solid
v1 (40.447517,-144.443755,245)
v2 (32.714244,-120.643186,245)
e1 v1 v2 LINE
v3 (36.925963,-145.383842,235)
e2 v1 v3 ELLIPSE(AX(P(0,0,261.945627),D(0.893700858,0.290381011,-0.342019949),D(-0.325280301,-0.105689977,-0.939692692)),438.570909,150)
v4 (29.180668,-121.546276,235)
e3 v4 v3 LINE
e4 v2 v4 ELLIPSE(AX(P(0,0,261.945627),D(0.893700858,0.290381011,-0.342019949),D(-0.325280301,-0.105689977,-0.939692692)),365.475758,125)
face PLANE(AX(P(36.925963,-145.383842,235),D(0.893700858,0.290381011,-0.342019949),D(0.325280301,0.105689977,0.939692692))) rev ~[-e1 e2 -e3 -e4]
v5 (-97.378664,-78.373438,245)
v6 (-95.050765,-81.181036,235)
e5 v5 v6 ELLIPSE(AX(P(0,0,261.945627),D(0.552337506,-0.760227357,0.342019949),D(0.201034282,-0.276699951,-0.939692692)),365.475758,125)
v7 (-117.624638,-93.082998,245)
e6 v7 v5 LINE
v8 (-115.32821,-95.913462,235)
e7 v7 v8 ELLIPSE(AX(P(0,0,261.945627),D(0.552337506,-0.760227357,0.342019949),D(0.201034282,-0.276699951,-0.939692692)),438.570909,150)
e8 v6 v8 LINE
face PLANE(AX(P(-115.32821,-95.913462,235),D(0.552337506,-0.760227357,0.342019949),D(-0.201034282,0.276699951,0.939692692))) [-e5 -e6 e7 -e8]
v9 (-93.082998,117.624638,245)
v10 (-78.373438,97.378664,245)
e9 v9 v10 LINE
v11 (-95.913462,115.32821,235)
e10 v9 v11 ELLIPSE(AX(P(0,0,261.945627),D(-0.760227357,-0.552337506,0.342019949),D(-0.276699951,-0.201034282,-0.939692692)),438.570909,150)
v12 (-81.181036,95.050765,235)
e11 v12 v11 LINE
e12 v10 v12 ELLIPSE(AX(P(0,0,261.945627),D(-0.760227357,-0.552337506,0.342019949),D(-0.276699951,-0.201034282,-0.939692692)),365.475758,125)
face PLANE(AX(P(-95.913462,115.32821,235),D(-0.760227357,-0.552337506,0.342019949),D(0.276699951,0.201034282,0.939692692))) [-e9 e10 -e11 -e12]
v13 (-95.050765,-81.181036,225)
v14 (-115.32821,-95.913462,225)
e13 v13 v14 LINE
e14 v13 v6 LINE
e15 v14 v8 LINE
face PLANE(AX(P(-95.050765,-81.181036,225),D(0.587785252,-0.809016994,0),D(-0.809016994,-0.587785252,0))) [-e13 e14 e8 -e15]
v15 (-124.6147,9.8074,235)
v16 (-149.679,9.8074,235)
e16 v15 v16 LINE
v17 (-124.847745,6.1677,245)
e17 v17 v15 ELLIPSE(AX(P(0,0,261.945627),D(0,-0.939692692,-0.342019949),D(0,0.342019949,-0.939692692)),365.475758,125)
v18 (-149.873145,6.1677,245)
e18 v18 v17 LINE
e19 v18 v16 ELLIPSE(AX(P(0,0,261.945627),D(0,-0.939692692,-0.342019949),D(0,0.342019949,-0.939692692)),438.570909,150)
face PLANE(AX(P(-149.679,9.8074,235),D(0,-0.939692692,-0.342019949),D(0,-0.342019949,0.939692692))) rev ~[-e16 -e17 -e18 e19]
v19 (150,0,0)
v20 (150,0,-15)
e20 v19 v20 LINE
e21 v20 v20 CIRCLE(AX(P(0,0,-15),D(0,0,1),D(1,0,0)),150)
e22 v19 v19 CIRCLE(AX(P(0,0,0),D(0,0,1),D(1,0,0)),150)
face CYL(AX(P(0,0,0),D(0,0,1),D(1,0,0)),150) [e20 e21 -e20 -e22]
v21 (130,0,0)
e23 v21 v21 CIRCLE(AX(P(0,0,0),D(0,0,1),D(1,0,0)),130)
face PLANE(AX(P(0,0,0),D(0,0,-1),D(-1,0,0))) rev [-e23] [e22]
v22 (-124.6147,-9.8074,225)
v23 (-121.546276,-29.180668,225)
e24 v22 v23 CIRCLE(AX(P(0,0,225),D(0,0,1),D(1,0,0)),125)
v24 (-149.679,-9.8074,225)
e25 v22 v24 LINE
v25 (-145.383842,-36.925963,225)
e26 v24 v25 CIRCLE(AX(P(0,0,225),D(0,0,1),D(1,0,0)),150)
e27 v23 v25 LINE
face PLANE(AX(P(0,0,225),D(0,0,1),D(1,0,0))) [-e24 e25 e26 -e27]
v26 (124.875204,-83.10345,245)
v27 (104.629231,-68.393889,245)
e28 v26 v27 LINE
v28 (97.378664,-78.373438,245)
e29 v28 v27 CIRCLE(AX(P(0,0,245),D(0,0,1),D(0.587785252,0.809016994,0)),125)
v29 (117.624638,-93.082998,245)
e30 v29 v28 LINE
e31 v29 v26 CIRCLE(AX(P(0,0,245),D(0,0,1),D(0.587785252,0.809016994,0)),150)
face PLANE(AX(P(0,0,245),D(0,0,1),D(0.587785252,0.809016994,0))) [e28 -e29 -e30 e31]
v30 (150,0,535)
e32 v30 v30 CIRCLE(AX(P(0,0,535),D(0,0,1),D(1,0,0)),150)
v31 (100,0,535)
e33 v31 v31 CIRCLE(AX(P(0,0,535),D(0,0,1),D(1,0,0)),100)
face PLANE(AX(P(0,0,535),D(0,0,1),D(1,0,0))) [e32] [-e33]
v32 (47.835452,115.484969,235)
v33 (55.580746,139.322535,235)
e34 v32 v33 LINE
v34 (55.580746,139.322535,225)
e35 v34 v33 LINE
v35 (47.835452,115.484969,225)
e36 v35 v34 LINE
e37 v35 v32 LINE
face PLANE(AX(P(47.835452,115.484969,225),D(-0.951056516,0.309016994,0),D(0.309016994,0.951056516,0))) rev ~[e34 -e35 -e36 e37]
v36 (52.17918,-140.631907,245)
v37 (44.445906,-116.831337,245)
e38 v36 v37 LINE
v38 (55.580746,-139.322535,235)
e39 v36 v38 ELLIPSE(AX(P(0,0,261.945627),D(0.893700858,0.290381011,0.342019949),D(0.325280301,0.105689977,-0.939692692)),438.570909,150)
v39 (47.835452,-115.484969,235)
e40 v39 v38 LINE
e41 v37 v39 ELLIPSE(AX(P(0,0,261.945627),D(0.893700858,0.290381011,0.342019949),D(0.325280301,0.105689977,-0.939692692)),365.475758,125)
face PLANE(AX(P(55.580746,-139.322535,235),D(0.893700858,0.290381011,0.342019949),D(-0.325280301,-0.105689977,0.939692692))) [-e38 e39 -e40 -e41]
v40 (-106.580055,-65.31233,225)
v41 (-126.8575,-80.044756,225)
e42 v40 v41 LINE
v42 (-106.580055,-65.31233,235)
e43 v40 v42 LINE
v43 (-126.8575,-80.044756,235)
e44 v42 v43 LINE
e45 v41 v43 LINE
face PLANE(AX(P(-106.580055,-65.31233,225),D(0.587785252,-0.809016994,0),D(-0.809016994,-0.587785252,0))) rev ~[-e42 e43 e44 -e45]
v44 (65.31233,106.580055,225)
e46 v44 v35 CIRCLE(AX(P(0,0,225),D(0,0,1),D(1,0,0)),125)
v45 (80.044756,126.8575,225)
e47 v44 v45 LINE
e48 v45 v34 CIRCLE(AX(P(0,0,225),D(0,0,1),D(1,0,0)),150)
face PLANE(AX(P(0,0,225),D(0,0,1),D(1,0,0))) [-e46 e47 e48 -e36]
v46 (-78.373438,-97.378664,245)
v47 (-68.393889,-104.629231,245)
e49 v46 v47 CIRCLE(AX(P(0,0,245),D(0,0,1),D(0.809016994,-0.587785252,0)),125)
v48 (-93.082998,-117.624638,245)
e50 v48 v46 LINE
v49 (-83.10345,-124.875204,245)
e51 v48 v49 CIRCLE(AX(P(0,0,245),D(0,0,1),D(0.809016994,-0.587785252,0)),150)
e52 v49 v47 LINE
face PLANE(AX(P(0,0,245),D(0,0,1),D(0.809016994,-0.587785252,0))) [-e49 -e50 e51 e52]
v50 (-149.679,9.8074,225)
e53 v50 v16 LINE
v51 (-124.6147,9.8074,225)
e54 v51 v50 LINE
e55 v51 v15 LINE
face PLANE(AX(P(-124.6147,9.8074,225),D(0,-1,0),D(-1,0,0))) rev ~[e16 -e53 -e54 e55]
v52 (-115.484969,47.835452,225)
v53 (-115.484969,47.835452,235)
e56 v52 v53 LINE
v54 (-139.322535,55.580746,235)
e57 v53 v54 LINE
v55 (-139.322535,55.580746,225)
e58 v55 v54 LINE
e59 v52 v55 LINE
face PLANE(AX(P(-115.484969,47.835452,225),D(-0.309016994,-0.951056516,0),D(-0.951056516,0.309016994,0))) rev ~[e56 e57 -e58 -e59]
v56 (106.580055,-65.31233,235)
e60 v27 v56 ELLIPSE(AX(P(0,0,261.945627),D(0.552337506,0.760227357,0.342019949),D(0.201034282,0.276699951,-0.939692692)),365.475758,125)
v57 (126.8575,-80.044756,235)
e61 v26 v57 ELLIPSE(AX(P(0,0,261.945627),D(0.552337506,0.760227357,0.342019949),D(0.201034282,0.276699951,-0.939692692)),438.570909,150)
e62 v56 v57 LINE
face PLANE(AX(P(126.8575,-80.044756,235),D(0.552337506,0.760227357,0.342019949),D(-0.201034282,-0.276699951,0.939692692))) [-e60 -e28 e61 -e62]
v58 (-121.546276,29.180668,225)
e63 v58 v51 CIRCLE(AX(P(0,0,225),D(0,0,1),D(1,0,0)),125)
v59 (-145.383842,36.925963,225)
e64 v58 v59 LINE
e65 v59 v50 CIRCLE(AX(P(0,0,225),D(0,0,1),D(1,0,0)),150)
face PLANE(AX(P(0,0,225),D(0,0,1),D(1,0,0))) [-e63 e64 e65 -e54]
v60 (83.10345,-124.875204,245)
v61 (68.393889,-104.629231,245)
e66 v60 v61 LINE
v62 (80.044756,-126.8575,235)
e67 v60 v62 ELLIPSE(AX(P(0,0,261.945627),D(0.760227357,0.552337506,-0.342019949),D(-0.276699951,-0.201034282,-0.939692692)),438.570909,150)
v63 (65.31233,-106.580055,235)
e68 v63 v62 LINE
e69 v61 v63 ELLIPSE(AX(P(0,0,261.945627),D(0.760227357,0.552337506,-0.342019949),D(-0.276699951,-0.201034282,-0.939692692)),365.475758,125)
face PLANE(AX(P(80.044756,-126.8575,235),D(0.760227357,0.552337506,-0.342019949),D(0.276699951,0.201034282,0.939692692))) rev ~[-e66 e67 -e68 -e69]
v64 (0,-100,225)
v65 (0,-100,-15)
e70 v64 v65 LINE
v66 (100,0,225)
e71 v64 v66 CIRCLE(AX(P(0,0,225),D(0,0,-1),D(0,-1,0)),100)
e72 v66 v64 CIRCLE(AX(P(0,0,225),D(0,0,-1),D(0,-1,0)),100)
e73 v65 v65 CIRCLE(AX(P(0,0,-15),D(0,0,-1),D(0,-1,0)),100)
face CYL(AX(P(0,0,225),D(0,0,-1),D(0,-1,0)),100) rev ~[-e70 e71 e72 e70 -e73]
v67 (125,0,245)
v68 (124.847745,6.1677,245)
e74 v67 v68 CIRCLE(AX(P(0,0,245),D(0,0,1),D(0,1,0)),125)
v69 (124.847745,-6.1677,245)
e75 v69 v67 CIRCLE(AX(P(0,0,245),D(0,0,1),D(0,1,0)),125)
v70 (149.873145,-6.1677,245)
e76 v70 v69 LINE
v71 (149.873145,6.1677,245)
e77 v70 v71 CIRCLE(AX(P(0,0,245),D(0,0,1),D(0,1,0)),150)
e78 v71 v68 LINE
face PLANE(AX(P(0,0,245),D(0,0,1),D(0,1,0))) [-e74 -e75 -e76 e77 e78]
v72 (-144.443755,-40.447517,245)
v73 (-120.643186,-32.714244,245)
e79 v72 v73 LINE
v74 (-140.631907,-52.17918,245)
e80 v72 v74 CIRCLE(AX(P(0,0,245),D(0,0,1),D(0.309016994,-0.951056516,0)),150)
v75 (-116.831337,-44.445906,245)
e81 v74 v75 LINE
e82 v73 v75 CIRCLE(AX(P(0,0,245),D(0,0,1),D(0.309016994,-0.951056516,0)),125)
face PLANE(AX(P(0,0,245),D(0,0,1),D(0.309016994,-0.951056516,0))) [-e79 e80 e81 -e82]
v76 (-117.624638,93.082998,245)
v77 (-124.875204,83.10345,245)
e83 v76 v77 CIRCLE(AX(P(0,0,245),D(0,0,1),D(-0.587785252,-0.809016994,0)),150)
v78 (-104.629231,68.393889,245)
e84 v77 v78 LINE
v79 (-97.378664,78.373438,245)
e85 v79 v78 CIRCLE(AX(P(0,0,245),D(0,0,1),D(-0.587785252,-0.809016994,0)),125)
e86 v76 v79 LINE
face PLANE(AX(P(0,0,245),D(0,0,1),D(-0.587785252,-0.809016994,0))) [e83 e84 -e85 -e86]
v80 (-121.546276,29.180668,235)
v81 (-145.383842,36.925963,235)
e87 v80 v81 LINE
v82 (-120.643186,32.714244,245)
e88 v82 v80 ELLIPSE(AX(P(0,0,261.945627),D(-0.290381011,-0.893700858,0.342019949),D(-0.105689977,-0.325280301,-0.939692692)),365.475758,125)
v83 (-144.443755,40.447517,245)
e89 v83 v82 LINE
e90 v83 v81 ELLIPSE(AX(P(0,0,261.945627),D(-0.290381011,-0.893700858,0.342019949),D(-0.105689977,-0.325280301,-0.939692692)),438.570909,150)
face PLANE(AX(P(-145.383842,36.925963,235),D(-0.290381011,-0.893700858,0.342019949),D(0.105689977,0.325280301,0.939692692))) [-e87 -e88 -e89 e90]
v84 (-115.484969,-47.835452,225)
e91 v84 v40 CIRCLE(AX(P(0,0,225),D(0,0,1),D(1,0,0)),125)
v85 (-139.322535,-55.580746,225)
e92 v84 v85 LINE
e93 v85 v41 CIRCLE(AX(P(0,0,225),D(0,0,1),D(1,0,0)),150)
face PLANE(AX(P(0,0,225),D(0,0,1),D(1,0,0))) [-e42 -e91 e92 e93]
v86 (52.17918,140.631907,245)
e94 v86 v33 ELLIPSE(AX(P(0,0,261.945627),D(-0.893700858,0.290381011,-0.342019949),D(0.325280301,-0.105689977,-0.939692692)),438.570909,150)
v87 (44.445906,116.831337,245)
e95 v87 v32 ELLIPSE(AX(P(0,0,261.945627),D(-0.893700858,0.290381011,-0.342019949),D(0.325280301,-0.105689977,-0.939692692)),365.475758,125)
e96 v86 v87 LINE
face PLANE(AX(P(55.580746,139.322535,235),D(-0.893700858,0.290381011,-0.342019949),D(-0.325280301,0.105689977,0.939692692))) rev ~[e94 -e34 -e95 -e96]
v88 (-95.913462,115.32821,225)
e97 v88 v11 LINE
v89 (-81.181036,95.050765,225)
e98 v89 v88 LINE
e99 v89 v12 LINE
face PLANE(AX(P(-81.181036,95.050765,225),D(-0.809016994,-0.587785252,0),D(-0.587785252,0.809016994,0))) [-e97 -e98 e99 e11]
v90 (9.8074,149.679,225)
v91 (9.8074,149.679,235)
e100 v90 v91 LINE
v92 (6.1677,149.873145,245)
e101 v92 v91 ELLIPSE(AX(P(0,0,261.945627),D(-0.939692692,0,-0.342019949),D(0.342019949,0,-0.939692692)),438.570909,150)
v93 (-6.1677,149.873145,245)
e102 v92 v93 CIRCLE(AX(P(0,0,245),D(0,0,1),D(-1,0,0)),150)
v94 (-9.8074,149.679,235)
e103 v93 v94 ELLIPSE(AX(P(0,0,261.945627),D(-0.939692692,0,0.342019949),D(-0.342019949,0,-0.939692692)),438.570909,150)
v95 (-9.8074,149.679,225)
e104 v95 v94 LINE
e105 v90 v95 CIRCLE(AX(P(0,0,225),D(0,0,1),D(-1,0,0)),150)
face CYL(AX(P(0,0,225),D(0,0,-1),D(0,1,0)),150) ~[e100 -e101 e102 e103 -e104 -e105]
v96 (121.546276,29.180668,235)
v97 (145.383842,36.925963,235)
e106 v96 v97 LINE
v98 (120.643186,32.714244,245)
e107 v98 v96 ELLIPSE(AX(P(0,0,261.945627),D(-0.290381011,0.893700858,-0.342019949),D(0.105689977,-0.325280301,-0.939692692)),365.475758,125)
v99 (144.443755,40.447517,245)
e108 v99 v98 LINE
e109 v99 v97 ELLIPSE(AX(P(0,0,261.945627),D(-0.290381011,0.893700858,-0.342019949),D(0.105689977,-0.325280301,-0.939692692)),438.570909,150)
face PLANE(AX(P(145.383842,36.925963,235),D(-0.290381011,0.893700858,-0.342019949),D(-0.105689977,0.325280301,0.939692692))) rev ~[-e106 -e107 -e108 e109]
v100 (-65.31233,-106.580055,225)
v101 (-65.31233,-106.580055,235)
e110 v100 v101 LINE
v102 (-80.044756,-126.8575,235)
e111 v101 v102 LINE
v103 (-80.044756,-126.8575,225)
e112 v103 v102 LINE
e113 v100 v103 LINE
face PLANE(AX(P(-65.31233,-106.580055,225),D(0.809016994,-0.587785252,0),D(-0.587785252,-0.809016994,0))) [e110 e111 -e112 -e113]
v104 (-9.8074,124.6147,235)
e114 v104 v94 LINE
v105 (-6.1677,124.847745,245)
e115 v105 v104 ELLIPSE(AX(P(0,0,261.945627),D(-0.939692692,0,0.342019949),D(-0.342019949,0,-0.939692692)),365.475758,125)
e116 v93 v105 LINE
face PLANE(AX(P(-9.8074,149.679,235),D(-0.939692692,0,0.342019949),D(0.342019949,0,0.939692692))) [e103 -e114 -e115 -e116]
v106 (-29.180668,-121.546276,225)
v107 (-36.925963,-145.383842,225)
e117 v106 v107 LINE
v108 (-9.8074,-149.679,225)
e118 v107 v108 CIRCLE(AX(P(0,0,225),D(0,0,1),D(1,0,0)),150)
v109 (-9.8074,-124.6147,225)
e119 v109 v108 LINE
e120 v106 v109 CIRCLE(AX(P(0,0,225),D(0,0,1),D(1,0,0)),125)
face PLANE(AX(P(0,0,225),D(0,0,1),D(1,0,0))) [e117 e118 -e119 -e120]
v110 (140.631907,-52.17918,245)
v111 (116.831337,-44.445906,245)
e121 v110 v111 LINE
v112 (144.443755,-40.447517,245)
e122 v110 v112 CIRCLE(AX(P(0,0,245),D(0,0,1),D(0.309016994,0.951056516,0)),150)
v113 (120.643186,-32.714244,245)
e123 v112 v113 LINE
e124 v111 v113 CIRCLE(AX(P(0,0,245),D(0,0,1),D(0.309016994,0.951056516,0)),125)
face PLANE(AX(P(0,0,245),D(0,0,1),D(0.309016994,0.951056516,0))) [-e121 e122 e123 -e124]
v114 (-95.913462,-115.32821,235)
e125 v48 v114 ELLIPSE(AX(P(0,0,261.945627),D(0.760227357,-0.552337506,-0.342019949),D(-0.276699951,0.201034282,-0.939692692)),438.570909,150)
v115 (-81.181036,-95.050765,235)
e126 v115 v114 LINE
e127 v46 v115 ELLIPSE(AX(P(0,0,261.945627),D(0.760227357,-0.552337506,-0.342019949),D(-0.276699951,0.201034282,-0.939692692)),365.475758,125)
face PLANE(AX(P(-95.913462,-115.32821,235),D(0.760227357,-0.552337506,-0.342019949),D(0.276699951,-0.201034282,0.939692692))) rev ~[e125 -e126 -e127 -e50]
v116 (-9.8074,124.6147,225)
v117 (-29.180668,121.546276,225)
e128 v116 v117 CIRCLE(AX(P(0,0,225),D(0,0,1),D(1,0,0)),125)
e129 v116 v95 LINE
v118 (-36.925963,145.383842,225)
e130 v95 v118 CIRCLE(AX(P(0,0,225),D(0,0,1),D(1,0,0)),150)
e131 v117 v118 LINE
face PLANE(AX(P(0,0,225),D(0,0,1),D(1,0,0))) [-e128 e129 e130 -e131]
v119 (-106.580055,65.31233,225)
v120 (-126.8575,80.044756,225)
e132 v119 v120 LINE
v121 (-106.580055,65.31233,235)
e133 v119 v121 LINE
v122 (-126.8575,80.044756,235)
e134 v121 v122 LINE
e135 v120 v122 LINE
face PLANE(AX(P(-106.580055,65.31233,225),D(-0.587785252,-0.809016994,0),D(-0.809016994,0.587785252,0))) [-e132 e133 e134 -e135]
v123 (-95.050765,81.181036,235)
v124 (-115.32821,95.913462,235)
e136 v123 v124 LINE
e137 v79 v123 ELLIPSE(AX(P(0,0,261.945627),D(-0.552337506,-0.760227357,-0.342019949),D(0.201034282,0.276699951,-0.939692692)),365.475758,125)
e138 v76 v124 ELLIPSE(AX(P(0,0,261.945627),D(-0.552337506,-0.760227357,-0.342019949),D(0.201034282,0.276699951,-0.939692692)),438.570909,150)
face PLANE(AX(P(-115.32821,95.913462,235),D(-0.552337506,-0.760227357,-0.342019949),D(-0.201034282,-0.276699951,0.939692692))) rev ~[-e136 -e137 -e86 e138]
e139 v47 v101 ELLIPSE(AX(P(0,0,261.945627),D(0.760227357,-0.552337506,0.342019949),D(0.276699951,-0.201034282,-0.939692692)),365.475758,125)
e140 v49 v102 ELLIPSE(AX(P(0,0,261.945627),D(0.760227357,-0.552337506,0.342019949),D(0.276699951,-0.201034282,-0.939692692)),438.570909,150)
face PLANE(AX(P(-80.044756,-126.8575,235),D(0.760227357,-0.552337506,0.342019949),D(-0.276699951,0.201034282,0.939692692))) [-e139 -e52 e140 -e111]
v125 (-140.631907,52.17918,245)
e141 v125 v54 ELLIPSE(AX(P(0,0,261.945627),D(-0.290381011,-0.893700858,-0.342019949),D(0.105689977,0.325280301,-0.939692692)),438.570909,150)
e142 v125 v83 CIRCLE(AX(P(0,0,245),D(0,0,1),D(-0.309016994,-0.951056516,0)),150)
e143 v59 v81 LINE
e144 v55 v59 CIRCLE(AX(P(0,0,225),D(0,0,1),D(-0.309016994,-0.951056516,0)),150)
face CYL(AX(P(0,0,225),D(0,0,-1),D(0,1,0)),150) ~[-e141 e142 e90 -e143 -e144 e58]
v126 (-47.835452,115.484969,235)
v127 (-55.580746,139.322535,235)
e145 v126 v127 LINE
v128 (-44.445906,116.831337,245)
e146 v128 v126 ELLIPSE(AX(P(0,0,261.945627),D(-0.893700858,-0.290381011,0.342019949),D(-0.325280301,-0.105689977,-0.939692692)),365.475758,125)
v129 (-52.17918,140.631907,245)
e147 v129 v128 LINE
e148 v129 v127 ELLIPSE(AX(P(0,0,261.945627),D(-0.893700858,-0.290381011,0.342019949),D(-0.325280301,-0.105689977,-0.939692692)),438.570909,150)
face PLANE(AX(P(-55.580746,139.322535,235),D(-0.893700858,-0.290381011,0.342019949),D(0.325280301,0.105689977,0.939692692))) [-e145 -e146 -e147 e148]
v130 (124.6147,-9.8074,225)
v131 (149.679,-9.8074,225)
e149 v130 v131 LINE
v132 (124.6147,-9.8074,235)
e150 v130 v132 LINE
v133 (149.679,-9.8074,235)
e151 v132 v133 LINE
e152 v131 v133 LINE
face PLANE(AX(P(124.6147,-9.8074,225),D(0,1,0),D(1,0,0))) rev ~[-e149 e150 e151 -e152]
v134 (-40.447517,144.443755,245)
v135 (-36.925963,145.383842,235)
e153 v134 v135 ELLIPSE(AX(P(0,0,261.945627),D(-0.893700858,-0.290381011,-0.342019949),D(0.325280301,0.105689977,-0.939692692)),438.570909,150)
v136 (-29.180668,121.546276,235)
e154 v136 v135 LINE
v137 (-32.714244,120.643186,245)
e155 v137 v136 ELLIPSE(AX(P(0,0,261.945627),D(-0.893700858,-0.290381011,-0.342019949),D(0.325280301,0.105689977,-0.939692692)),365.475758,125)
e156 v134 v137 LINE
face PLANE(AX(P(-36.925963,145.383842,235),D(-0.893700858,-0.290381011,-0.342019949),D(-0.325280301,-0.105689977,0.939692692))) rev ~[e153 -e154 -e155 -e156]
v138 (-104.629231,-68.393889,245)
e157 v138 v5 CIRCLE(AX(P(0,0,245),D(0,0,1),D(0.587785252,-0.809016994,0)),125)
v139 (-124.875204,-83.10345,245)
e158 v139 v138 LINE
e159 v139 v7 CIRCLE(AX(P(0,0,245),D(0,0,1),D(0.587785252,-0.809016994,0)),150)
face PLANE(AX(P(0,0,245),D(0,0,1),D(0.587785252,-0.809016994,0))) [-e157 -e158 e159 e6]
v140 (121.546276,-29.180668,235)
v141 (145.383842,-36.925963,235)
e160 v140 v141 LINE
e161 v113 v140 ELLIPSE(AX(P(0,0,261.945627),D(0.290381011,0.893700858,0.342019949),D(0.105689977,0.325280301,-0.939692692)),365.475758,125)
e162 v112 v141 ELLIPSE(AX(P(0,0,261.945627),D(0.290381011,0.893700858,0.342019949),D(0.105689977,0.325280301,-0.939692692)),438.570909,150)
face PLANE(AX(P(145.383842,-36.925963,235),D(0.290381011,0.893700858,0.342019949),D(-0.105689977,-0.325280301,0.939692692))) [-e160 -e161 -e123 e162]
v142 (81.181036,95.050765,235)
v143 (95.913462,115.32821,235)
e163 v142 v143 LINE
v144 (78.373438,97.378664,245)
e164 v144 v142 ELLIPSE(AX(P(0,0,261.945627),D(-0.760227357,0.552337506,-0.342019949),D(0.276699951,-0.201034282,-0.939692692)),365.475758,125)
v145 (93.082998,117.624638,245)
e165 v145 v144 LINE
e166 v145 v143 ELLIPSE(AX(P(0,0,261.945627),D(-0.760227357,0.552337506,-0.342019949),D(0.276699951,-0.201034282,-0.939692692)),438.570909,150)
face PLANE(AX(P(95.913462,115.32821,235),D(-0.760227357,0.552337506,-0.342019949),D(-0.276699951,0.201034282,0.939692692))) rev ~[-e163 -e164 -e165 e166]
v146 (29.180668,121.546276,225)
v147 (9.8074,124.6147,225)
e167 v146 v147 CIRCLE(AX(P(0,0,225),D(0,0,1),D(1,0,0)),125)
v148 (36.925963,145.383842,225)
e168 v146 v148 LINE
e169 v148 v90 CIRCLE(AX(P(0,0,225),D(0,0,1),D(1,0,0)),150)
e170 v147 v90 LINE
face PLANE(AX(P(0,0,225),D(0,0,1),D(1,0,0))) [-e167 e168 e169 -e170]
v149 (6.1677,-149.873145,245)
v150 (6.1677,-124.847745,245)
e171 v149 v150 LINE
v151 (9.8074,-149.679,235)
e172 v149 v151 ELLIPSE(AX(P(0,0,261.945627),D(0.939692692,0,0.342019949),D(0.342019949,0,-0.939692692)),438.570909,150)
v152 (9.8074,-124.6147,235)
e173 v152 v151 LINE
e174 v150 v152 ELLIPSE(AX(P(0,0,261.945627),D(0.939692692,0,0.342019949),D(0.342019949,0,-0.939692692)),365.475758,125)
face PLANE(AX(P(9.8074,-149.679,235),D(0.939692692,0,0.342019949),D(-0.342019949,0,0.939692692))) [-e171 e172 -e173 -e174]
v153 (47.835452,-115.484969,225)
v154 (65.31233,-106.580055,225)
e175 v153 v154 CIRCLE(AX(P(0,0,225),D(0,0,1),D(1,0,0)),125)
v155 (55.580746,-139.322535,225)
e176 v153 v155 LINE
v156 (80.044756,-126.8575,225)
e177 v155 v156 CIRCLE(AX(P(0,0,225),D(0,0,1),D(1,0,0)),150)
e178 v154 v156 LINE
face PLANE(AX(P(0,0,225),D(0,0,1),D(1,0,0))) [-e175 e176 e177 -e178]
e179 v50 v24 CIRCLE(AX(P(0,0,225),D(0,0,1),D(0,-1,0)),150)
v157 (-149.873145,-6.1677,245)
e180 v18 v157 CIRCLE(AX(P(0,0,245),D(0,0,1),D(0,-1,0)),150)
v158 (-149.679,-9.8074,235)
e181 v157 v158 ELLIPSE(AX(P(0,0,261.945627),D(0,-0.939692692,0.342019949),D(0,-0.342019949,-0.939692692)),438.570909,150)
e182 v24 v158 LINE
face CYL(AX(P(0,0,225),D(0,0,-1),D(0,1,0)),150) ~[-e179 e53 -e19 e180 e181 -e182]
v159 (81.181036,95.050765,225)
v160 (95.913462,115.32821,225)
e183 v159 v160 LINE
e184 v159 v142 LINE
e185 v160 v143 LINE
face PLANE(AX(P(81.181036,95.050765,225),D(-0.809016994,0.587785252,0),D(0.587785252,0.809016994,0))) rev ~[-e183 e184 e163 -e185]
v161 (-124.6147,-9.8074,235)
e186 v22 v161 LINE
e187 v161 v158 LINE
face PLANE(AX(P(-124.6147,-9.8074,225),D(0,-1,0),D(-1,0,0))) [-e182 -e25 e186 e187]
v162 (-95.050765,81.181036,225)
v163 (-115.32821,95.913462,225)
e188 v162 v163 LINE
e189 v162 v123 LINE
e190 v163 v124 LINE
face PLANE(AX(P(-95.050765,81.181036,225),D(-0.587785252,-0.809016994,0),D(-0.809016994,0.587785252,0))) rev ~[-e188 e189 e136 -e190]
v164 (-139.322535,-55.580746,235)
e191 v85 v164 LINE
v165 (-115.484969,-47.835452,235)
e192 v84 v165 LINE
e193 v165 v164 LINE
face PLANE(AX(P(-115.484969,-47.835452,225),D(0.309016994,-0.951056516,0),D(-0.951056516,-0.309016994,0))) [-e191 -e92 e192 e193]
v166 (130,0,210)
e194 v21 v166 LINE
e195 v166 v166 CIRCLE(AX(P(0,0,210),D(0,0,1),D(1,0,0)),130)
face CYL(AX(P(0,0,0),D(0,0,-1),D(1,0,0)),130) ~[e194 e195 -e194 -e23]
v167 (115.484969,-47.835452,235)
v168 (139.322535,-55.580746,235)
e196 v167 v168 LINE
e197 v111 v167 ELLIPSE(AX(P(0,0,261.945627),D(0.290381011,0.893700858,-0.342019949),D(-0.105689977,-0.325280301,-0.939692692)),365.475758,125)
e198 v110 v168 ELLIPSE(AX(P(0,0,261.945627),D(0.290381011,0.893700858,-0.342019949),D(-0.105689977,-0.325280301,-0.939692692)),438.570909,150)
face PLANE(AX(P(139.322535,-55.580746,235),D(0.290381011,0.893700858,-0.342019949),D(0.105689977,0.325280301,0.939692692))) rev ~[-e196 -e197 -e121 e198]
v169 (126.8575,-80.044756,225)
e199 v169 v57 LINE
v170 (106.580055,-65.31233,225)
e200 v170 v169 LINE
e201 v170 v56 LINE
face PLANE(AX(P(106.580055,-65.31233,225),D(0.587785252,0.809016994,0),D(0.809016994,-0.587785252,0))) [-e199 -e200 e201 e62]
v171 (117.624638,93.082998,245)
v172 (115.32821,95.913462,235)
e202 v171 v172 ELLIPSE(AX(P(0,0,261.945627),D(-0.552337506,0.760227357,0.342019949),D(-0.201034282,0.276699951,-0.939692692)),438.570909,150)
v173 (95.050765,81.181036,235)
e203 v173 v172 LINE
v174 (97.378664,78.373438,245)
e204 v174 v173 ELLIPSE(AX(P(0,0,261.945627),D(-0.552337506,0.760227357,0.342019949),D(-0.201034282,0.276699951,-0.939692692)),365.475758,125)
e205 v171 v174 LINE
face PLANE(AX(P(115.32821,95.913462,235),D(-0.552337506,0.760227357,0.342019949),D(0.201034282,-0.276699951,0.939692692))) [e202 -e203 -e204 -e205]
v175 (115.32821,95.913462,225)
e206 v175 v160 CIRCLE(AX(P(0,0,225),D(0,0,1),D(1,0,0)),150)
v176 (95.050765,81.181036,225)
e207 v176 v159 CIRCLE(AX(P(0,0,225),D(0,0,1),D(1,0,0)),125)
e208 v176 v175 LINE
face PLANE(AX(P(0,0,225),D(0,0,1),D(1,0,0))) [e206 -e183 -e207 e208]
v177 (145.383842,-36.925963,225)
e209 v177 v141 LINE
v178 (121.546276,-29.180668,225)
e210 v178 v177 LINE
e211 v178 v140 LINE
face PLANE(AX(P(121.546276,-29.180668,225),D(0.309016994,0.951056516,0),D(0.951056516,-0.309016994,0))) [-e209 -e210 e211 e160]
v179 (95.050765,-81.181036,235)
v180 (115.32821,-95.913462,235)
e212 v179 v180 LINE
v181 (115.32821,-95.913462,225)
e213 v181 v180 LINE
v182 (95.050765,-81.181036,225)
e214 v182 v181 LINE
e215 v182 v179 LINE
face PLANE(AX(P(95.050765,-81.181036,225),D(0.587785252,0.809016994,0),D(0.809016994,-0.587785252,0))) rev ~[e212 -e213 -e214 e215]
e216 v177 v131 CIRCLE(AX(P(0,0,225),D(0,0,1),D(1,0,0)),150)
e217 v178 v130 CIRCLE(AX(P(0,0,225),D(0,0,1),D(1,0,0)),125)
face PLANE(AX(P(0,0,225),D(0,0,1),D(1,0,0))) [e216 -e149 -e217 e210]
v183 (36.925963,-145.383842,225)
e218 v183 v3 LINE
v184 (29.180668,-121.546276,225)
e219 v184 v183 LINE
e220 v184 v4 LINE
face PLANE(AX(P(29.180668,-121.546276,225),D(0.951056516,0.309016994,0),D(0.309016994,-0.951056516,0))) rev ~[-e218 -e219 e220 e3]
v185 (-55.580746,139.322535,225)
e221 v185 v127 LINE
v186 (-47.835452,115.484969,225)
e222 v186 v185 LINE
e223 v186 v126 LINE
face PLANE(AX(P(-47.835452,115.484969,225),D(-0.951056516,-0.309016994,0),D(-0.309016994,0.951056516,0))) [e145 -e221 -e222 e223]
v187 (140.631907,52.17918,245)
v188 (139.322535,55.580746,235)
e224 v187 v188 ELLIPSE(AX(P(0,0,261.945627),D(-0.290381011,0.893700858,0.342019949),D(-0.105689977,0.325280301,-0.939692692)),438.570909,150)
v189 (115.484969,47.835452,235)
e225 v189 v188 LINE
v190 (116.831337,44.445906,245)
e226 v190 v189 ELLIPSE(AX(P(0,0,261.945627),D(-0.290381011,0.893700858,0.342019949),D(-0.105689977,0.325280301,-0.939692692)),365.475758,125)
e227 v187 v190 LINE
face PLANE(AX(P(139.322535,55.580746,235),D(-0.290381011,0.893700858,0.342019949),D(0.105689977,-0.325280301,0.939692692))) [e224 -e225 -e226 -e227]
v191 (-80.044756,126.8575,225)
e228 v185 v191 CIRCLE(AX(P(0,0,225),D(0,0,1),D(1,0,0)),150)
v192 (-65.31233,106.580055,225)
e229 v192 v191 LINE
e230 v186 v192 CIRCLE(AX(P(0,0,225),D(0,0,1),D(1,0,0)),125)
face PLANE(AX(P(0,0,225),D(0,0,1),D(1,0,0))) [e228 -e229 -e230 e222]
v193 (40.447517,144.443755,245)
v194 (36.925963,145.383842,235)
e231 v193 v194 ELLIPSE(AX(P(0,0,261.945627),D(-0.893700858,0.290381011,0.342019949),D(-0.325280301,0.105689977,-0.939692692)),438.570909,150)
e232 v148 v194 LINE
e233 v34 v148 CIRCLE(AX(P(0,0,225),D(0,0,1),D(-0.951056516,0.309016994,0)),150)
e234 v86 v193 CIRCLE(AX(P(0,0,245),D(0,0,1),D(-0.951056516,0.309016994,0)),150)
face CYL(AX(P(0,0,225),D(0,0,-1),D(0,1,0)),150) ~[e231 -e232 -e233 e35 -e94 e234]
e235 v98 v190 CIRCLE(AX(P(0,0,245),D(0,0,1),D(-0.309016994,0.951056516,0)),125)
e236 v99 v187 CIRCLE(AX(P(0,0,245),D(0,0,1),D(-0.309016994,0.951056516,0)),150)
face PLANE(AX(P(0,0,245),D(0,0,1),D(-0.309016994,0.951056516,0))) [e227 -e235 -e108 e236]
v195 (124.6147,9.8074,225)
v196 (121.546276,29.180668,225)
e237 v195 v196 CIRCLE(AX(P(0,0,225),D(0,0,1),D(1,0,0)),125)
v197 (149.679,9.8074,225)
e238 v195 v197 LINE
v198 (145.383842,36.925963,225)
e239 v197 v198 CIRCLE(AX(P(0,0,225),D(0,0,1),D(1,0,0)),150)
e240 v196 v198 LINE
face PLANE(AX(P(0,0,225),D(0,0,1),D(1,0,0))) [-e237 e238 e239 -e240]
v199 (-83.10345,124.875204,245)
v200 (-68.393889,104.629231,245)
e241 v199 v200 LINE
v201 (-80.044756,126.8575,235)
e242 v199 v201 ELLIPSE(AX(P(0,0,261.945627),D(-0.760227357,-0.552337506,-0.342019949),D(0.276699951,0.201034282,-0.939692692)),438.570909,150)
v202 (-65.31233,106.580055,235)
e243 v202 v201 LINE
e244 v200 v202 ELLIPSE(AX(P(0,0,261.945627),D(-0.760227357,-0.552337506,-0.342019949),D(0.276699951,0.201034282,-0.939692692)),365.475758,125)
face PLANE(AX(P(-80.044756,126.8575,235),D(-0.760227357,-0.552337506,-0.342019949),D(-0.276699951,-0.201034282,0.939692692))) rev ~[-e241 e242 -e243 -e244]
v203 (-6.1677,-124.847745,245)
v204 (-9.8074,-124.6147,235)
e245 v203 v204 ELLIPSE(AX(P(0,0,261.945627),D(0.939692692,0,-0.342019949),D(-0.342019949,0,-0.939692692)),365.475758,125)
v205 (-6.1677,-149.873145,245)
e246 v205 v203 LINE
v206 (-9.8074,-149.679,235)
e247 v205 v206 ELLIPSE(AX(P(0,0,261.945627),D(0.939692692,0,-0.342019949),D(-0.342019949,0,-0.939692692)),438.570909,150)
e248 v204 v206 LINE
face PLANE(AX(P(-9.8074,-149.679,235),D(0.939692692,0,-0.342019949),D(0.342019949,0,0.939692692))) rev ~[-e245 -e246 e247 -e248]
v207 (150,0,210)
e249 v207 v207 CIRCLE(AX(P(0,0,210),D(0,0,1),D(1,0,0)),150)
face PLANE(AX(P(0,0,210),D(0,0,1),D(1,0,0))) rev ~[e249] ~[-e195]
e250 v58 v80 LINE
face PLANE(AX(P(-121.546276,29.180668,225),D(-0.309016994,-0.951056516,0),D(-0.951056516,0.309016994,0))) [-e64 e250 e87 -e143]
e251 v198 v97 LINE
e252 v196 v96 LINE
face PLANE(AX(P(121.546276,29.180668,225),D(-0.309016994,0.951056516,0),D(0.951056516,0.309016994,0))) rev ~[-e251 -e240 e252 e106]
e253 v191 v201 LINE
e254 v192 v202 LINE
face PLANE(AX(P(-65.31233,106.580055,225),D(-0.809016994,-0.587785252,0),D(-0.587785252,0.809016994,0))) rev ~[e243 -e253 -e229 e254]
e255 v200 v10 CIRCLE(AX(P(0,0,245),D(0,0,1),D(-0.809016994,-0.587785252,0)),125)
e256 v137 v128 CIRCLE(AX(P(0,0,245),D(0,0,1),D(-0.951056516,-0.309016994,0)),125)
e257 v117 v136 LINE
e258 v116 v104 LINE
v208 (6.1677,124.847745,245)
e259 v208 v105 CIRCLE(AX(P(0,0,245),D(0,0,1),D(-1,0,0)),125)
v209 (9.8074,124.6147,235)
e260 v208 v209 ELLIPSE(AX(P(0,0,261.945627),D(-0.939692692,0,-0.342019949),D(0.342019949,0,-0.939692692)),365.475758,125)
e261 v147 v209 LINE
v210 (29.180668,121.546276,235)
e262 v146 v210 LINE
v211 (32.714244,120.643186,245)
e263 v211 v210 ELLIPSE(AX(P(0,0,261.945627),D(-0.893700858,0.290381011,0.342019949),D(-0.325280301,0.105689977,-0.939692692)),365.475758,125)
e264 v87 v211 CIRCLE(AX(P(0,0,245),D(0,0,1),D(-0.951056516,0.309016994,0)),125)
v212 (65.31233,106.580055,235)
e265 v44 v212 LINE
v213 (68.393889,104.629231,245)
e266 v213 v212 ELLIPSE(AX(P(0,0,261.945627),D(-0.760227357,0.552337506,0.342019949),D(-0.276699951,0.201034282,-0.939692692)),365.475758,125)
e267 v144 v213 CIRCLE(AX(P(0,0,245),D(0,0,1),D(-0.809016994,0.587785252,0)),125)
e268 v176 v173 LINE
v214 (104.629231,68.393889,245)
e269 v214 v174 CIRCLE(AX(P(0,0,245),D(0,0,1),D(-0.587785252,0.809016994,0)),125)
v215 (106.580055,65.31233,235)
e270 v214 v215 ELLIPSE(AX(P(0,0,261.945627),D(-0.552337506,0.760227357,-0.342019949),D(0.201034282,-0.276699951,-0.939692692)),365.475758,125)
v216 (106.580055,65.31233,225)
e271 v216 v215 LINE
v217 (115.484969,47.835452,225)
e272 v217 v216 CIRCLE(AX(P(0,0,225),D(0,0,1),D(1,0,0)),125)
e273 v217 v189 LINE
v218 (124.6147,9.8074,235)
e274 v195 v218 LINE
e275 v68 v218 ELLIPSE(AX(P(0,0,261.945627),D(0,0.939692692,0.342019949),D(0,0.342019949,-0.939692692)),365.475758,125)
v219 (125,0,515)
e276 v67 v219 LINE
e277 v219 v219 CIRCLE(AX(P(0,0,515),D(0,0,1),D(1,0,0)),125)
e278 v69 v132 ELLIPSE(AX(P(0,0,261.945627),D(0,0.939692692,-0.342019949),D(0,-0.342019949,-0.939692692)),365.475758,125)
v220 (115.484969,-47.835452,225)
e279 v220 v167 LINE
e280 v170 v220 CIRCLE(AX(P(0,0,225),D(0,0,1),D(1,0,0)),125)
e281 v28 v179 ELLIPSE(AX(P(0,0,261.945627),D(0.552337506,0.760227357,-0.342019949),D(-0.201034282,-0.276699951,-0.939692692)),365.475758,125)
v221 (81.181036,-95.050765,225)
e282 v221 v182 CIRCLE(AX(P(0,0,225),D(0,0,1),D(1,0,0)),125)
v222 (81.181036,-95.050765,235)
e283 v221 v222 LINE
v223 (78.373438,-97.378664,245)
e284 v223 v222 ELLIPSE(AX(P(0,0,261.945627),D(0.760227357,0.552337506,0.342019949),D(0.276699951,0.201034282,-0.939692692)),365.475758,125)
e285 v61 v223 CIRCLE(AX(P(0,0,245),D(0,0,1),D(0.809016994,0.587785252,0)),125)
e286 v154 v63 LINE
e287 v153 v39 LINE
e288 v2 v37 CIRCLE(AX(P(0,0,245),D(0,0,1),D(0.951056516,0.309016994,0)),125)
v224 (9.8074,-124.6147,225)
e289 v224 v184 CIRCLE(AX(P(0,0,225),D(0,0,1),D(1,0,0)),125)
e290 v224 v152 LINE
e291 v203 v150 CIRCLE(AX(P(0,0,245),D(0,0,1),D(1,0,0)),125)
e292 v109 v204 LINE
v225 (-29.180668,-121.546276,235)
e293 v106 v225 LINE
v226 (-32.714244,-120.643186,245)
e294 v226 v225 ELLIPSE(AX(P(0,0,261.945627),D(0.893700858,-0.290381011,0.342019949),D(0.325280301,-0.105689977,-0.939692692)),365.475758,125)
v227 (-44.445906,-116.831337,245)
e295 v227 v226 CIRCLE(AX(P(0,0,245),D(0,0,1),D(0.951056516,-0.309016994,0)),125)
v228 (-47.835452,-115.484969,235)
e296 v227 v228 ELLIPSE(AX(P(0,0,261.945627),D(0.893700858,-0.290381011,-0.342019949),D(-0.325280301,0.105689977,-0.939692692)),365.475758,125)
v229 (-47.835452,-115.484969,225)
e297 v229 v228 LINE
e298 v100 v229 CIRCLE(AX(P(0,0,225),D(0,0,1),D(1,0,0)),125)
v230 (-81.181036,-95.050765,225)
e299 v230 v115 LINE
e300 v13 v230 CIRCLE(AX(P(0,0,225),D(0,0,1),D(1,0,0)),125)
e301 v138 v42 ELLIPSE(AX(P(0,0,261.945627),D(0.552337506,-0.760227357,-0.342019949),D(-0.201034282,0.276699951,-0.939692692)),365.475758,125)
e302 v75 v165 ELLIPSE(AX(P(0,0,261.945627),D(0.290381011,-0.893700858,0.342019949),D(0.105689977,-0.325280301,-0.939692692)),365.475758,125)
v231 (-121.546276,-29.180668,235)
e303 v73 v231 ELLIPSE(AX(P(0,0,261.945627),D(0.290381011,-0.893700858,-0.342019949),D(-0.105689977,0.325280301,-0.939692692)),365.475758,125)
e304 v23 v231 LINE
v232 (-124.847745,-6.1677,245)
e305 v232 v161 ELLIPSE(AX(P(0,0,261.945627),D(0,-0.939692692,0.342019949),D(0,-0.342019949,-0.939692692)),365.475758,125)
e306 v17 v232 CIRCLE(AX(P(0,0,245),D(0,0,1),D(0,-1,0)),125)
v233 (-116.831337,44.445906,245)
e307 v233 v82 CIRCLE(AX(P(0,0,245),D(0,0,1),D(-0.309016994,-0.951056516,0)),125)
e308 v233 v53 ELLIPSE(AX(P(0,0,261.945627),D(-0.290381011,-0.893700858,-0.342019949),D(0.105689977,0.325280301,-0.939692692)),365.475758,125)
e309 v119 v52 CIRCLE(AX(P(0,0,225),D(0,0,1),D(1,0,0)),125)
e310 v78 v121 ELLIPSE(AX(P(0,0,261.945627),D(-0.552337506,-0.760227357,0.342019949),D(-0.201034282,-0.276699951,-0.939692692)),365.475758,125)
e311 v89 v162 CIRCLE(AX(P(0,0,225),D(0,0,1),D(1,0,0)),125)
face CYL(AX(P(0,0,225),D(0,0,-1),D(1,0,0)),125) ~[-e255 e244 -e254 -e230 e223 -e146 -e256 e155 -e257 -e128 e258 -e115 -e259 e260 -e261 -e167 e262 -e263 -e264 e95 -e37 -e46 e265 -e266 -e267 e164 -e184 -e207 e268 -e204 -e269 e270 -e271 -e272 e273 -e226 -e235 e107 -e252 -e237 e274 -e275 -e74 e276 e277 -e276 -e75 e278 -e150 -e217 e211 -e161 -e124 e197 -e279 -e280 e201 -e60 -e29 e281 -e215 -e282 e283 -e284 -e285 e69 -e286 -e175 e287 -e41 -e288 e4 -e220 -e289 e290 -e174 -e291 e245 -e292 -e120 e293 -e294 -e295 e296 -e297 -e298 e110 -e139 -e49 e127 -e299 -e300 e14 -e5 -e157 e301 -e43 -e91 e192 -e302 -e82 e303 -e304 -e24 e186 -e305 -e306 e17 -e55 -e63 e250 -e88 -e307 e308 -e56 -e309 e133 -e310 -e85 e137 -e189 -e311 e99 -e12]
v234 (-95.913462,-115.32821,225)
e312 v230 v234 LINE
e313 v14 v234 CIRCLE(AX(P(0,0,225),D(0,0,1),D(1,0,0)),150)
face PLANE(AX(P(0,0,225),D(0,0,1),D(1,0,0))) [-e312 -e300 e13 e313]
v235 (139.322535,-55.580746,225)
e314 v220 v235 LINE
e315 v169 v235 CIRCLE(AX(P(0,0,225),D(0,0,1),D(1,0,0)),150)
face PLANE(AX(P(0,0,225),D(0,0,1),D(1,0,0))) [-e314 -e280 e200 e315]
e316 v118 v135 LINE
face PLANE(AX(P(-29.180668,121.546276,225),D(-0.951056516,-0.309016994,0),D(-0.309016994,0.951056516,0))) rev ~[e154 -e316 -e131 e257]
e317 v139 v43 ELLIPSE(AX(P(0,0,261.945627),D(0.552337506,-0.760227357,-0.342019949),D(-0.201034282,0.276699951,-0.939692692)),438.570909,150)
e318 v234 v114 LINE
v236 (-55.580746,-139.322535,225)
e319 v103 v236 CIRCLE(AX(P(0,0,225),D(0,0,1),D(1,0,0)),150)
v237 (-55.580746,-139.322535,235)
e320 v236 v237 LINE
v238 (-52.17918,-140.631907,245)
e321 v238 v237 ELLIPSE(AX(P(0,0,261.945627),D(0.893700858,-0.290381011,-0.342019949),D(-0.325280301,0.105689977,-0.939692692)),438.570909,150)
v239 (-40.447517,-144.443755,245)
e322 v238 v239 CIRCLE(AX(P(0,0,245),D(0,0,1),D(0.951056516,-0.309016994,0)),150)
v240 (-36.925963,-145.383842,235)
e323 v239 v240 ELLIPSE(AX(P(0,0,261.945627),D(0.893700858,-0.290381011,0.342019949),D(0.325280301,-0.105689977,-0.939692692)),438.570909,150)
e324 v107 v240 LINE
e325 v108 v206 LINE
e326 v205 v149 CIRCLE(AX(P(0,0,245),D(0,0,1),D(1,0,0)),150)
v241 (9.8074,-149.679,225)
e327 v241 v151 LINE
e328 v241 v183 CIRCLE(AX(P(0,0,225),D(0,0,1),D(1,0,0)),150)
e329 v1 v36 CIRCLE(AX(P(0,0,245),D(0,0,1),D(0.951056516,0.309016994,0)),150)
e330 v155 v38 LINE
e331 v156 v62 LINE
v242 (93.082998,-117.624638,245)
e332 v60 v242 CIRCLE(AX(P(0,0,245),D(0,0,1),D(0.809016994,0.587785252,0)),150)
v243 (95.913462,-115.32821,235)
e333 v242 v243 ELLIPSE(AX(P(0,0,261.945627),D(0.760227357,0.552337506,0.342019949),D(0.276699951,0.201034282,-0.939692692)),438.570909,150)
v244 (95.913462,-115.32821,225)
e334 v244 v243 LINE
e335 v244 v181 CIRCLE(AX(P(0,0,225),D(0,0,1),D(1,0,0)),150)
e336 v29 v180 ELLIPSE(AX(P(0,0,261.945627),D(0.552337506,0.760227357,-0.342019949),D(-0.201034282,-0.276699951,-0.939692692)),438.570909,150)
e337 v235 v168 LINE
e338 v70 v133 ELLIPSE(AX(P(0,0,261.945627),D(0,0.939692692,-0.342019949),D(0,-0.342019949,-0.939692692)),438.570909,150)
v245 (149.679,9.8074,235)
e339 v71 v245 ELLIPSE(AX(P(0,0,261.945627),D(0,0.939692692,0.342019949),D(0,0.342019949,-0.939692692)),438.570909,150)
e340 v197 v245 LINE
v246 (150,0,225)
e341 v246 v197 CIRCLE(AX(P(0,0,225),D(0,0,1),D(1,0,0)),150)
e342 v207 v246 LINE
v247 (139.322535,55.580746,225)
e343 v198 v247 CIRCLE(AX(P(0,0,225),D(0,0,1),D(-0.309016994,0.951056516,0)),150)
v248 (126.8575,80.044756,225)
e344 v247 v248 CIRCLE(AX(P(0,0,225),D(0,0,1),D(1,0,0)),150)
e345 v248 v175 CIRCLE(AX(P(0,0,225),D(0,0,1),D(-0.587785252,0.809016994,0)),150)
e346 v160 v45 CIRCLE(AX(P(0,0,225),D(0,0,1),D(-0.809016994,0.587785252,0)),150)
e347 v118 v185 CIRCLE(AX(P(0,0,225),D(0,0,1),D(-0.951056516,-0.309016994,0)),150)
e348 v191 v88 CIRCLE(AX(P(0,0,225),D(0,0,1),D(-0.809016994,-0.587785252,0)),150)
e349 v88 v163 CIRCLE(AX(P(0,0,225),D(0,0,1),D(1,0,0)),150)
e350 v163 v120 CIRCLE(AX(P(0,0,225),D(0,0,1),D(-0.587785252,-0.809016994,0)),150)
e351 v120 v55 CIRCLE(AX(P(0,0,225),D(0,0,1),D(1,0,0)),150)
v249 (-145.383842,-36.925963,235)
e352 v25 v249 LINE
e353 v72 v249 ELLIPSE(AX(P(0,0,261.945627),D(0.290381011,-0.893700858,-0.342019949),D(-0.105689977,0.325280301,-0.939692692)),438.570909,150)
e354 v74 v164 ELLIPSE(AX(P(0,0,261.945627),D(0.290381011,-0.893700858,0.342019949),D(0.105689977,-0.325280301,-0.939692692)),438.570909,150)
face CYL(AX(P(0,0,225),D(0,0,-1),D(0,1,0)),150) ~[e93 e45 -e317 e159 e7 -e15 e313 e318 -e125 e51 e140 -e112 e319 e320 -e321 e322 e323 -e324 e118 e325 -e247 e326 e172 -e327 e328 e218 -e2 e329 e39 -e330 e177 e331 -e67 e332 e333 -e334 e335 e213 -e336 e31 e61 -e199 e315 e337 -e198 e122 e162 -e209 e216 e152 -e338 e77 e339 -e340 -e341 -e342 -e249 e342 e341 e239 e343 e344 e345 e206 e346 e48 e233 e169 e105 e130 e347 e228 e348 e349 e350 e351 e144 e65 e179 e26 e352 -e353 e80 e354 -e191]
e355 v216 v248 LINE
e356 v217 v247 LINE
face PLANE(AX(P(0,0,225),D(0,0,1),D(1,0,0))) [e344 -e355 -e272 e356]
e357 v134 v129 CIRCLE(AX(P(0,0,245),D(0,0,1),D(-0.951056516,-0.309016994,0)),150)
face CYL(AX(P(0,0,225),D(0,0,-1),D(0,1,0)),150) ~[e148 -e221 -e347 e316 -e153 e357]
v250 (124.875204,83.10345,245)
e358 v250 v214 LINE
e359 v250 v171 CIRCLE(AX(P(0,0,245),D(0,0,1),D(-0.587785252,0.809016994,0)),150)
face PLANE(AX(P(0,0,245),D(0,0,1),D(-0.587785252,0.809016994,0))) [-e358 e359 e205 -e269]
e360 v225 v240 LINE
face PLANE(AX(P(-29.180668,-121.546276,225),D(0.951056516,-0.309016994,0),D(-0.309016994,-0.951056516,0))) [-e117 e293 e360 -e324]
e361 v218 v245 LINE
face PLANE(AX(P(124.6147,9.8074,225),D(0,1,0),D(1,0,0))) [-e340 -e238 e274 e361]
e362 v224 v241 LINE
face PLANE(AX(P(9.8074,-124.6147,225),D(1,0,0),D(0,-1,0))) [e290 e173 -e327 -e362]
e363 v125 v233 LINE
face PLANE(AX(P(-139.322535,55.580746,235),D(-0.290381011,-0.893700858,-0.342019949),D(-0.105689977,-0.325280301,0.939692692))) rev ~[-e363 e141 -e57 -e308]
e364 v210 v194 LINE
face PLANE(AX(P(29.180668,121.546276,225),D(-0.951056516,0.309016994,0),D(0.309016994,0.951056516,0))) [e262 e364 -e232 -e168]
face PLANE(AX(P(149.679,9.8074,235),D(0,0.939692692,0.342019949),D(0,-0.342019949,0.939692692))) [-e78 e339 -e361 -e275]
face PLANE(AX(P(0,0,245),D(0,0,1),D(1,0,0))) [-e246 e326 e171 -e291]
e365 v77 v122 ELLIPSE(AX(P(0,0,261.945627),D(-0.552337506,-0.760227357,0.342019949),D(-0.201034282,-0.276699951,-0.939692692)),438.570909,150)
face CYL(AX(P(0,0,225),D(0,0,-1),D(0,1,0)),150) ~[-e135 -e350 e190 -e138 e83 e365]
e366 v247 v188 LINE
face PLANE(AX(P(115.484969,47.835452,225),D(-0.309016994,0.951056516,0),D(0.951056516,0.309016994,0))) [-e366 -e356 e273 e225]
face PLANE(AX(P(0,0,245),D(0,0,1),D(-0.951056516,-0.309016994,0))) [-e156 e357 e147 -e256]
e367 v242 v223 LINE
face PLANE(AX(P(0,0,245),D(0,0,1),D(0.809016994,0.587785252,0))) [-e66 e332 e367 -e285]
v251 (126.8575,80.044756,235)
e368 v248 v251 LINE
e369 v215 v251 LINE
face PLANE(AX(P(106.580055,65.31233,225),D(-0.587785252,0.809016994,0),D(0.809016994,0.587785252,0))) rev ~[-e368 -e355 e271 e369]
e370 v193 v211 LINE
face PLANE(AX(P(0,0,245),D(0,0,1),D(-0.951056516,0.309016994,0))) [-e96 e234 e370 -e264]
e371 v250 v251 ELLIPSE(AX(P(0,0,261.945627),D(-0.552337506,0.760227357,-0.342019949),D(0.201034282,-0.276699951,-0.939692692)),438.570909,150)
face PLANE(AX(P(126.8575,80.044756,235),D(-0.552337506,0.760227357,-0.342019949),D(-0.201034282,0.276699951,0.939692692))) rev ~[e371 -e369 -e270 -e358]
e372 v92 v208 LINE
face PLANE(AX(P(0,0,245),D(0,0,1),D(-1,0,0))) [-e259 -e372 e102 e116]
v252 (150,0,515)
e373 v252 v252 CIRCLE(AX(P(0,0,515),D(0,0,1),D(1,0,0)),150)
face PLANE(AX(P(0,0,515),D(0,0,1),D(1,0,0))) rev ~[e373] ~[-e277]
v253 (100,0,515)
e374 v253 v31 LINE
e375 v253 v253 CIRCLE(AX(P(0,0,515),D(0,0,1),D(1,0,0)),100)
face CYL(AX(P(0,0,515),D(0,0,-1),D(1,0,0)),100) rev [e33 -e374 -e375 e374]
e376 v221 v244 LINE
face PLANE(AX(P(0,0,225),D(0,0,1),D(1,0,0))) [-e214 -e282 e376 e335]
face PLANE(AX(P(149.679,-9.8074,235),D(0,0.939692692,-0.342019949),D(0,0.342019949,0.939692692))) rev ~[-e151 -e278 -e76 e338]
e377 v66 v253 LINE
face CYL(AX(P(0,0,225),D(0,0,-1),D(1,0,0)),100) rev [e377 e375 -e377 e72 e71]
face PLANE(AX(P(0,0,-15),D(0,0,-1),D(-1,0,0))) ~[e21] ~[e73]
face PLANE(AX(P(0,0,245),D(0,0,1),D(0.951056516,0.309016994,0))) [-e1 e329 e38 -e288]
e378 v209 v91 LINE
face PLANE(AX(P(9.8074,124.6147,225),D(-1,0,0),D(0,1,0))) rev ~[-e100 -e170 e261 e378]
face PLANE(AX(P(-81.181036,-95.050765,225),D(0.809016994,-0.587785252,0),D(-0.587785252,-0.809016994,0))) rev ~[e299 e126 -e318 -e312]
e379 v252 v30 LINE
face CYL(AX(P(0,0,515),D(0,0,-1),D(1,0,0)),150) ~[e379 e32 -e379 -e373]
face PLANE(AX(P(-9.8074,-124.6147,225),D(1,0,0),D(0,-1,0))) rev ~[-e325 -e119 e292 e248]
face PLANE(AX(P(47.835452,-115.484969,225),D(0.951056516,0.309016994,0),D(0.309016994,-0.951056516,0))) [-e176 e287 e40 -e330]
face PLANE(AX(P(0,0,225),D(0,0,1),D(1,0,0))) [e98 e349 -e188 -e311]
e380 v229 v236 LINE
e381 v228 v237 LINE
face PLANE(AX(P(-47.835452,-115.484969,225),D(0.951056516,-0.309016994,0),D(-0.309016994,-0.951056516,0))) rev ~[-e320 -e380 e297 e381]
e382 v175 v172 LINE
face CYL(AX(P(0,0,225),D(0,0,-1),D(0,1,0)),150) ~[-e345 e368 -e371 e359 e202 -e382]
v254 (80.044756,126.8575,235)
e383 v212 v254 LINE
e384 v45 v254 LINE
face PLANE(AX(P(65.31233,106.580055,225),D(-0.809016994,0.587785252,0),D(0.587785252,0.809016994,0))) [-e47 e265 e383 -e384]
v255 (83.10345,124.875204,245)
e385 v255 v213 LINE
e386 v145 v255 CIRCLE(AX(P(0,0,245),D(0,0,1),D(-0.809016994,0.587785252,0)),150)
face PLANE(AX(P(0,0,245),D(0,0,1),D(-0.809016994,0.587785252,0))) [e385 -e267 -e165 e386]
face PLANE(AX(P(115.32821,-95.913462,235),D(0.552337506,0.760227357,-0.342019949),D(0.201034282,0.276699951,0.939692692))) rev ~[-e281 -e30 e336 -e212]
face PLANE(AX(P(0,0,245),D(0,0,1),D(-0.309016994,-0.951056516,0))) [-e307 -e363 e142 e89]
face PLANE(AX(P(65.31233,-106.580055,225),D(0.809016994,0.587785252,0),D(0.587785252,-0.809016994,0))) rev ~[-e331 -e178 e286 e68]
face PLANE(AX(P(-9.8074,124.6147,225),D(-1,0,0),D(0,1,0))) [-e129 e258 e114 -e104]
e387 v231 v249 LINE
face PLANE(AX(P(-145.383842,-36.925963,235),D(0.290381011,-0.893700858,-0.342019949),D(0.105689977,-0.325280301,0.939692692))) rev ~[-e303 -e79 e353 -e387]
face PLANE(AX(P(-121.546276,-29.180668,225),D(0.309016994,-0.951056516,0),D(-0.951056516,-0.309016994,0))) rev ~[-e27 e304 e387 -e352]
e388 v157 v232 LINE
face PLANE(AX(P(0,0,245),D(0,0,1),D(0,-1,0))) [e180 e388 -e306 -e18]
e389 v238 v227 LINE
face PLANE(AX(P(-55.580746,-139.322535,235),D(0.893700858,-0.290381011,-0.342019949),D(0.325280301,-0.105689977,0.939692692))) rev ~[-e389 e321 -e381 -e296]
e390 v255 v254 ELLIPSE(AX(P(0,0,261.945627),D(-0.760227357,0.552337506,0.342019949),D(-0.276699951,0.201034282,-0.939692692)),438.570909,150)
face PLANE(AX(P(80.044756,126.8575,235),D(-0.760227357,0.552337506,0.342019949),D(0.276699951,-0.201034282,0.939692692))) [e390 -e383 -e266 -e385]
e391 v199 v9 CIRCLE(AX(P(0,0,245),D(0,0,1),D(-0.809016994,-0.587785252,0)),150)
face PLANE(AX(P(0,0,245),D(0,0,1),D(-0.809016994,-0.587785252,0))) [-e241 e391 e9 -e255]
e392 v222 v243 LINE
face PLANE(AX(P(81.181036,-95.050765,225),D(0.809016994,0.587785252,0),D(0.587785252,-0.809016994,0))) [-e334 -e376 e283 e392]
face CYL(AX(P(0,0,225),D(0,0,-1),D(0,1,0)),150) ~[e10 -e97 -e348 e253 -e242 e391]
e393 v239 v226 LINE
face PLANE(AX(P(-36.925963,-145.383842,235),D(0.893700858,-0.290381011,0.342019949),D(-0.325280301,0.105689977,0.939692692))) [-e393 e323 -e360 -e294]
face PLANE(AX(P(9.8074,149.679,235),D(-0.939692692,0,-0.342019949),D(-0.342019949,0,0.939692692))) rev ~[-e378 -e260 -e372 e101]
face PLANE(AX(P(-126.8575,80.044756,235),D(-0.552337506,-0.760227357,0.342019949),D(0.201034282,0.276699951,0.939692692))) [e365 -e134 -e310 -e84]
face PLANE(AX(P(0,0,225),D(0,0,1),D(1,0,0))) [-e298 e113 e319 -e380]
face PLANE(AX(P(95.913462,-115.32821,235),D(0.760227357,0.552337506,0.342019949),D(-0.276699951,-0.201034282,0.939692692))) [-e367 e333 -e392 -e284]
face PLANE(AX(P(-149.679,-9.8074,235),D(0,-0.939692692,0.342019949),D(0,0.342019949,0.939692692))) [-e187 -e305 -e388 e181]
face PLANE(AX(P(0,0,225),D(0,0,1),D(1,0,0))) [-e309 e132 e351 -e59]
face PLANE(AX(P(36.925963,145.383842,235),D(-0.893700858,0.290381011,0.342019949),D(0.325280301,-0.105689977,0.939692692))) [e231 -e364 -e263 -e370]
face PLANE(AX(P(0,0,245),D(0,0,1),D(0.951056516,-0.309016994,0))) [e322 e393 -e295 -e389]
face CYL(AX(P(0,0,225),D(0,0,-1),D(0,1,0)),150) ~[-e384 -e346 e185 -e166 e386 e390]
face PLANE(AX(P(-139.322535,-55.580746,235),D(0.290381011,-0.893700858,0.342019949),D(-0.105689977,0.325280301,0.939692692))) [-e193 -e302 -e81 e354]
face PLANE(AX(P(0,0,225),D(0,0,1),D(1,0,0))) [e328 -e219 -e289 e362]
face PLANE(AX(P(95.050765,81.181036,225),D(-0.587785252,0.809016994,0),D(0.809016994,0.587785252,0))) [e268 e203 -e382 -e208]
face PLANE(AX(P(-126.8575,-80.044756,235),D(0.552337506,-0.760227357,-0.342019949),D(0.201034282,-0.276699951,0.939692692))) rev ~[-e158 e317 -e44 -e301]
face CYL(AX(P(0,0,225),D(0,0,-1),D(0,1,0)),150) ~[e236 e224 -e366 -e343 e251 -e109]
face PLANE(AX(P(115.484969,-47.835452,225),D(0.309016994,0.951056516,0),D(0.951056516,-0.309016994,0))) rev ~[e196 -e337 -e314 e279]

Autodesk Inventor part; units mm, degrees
ref_plane "YZ Plane" through (0, 0, 0) normal (1, 0, 0) x (0, 1, 0)
sketch "Sketch1" plane through (0, 0, 0) normal (0, 0, 1) x (1, 0, 0)
  circle A0 centre (0, 0) radius 130
  dimension "d0" = 260
extrude "Extrusion1" add sketch "Sketch1" along normal blind 210
sketch "Sketch2" plane through (0, 0, 210) normal (0, 0, 1) x (1, 0, 0)
  circle A0 centre (0, 0) radius 150
  dimension "d3" = 300
extrude "Extrusion2" add sketch "Sketch2" along normal blind 15
ref_plane "Work Plane3" through (0, 0, 105) normal (0, 0, -1) x (-1, 0, 0)
mirror "Mirror2" about plane through (0, 0, 105) normal (0, 0, -1) of "Extrusion2"
hole "Hole2" at (0, 0, 225) direction (0, 0, -1) diameter 200 end through all
sketch "Sketch7" plane through (0, 0, 225) normal (0, 0, 1) x (1, 0, 0)
  circle A0 centre (0, 0) radius 100 projected
  circle A1 centre (0, 0) radius 100 projected
  circle A2 centre (0, 0) radius 150 projected
  line L0 (0, 0) -> (-9.8074, -124.6147) construction
  circle A3 centre (0, 0) radius 150 projected
  line L1 (0, 0) -> (154.8223, 0) construction
  line L2 (0, 0) -> (9.8074, -124.6147) construction
  line L3 (-9.8074, -124.6147) -> (-9.8074, -149.679)
  line L4 (9.8074, -124.6147) -> (9.8074, -149.679)
  circle A4 centre (0, 0) radius 125
  dimension "d40" = 94.5
  dimension "d41" = 9
  dimension "d73" = 250
extrude "Extrusion7" add sketch "Sketch7" along normal blind 20 contours L3 A4 L4 A2 picked at (-7.629, -133.0836)
ref_plane "Work Plane4" through (-9.8074, -149.679, 225) normal (0, 1, 0) x (0, 0, 1)
sketch "Sketch8" plane through (-9.8074, -149.679, 225) normal (0, 1, 0) x (0, 0, 1)
  line L0 (20, 0) -> (10, 0)
  line L1 (0, 0) -> (20, 0) projected
  line L2 (20, 0) -> (20, 3.6397)
  line L3 (10, 0) -> (20, 3.6397)
  line L4 (0, 19.6148) -> (20, 19.6148) projected
  line L5 (20, 19.6148) -> (10, 19.6148)
  line L6 (10, 19.6148) -> (20, 15.9751)
  line L7 (20, 15.9751) -> (20, 19.6148)
  line L8 (20, 0) -> (20, 19.6148) projected
  line L9 (0, -140.1926) -> (0, 159.8074) projected
  point P0 (-225, 9.8074)
  point P1 (0, 20.3994)
  dimension "d49" = 10
  dimension "d50" = 20
  dimension "d52" = 10
  dimension "d53" = 20
extrude "Extrusion8" cut sketch "Sketch8" along normal through all both and the other way through all contours L0 L3 L2 | L6 L4 L7
pattern_circular "Circular Pattern2" count 20 over 360 about axis through (0, 0, -262.4423) along (0, 0, 1) of "Extrusion7", "Extrusion8"
sketch "Sketch10" plane through (0, 0, 225) normal (0, 0, 1) x (1, 0, 0)
  circle A0 centre (0, 0) radius 100 projected
  circle A1 centre (0, 0) radius 125
  dimension "d64" = 25
extrude "Extrusion10" add sketch "Sketch10" along normal blind 290
sketch "Sketch12" plane through (0, 0, 515) normal (0, 0, 1) x (1, 0, 0)
  circle A0 centre (0, 0) radius 150
  circle A1 centre (0, 0) radius 100 projected
  dimension "d70" = 300
extrude "Extrusion12" add sketch "Sketch12" along normal blind 20
equation "\"d52\" = d49"
equation "\"d53\" = d50"
properties part number "Rigid holder"
